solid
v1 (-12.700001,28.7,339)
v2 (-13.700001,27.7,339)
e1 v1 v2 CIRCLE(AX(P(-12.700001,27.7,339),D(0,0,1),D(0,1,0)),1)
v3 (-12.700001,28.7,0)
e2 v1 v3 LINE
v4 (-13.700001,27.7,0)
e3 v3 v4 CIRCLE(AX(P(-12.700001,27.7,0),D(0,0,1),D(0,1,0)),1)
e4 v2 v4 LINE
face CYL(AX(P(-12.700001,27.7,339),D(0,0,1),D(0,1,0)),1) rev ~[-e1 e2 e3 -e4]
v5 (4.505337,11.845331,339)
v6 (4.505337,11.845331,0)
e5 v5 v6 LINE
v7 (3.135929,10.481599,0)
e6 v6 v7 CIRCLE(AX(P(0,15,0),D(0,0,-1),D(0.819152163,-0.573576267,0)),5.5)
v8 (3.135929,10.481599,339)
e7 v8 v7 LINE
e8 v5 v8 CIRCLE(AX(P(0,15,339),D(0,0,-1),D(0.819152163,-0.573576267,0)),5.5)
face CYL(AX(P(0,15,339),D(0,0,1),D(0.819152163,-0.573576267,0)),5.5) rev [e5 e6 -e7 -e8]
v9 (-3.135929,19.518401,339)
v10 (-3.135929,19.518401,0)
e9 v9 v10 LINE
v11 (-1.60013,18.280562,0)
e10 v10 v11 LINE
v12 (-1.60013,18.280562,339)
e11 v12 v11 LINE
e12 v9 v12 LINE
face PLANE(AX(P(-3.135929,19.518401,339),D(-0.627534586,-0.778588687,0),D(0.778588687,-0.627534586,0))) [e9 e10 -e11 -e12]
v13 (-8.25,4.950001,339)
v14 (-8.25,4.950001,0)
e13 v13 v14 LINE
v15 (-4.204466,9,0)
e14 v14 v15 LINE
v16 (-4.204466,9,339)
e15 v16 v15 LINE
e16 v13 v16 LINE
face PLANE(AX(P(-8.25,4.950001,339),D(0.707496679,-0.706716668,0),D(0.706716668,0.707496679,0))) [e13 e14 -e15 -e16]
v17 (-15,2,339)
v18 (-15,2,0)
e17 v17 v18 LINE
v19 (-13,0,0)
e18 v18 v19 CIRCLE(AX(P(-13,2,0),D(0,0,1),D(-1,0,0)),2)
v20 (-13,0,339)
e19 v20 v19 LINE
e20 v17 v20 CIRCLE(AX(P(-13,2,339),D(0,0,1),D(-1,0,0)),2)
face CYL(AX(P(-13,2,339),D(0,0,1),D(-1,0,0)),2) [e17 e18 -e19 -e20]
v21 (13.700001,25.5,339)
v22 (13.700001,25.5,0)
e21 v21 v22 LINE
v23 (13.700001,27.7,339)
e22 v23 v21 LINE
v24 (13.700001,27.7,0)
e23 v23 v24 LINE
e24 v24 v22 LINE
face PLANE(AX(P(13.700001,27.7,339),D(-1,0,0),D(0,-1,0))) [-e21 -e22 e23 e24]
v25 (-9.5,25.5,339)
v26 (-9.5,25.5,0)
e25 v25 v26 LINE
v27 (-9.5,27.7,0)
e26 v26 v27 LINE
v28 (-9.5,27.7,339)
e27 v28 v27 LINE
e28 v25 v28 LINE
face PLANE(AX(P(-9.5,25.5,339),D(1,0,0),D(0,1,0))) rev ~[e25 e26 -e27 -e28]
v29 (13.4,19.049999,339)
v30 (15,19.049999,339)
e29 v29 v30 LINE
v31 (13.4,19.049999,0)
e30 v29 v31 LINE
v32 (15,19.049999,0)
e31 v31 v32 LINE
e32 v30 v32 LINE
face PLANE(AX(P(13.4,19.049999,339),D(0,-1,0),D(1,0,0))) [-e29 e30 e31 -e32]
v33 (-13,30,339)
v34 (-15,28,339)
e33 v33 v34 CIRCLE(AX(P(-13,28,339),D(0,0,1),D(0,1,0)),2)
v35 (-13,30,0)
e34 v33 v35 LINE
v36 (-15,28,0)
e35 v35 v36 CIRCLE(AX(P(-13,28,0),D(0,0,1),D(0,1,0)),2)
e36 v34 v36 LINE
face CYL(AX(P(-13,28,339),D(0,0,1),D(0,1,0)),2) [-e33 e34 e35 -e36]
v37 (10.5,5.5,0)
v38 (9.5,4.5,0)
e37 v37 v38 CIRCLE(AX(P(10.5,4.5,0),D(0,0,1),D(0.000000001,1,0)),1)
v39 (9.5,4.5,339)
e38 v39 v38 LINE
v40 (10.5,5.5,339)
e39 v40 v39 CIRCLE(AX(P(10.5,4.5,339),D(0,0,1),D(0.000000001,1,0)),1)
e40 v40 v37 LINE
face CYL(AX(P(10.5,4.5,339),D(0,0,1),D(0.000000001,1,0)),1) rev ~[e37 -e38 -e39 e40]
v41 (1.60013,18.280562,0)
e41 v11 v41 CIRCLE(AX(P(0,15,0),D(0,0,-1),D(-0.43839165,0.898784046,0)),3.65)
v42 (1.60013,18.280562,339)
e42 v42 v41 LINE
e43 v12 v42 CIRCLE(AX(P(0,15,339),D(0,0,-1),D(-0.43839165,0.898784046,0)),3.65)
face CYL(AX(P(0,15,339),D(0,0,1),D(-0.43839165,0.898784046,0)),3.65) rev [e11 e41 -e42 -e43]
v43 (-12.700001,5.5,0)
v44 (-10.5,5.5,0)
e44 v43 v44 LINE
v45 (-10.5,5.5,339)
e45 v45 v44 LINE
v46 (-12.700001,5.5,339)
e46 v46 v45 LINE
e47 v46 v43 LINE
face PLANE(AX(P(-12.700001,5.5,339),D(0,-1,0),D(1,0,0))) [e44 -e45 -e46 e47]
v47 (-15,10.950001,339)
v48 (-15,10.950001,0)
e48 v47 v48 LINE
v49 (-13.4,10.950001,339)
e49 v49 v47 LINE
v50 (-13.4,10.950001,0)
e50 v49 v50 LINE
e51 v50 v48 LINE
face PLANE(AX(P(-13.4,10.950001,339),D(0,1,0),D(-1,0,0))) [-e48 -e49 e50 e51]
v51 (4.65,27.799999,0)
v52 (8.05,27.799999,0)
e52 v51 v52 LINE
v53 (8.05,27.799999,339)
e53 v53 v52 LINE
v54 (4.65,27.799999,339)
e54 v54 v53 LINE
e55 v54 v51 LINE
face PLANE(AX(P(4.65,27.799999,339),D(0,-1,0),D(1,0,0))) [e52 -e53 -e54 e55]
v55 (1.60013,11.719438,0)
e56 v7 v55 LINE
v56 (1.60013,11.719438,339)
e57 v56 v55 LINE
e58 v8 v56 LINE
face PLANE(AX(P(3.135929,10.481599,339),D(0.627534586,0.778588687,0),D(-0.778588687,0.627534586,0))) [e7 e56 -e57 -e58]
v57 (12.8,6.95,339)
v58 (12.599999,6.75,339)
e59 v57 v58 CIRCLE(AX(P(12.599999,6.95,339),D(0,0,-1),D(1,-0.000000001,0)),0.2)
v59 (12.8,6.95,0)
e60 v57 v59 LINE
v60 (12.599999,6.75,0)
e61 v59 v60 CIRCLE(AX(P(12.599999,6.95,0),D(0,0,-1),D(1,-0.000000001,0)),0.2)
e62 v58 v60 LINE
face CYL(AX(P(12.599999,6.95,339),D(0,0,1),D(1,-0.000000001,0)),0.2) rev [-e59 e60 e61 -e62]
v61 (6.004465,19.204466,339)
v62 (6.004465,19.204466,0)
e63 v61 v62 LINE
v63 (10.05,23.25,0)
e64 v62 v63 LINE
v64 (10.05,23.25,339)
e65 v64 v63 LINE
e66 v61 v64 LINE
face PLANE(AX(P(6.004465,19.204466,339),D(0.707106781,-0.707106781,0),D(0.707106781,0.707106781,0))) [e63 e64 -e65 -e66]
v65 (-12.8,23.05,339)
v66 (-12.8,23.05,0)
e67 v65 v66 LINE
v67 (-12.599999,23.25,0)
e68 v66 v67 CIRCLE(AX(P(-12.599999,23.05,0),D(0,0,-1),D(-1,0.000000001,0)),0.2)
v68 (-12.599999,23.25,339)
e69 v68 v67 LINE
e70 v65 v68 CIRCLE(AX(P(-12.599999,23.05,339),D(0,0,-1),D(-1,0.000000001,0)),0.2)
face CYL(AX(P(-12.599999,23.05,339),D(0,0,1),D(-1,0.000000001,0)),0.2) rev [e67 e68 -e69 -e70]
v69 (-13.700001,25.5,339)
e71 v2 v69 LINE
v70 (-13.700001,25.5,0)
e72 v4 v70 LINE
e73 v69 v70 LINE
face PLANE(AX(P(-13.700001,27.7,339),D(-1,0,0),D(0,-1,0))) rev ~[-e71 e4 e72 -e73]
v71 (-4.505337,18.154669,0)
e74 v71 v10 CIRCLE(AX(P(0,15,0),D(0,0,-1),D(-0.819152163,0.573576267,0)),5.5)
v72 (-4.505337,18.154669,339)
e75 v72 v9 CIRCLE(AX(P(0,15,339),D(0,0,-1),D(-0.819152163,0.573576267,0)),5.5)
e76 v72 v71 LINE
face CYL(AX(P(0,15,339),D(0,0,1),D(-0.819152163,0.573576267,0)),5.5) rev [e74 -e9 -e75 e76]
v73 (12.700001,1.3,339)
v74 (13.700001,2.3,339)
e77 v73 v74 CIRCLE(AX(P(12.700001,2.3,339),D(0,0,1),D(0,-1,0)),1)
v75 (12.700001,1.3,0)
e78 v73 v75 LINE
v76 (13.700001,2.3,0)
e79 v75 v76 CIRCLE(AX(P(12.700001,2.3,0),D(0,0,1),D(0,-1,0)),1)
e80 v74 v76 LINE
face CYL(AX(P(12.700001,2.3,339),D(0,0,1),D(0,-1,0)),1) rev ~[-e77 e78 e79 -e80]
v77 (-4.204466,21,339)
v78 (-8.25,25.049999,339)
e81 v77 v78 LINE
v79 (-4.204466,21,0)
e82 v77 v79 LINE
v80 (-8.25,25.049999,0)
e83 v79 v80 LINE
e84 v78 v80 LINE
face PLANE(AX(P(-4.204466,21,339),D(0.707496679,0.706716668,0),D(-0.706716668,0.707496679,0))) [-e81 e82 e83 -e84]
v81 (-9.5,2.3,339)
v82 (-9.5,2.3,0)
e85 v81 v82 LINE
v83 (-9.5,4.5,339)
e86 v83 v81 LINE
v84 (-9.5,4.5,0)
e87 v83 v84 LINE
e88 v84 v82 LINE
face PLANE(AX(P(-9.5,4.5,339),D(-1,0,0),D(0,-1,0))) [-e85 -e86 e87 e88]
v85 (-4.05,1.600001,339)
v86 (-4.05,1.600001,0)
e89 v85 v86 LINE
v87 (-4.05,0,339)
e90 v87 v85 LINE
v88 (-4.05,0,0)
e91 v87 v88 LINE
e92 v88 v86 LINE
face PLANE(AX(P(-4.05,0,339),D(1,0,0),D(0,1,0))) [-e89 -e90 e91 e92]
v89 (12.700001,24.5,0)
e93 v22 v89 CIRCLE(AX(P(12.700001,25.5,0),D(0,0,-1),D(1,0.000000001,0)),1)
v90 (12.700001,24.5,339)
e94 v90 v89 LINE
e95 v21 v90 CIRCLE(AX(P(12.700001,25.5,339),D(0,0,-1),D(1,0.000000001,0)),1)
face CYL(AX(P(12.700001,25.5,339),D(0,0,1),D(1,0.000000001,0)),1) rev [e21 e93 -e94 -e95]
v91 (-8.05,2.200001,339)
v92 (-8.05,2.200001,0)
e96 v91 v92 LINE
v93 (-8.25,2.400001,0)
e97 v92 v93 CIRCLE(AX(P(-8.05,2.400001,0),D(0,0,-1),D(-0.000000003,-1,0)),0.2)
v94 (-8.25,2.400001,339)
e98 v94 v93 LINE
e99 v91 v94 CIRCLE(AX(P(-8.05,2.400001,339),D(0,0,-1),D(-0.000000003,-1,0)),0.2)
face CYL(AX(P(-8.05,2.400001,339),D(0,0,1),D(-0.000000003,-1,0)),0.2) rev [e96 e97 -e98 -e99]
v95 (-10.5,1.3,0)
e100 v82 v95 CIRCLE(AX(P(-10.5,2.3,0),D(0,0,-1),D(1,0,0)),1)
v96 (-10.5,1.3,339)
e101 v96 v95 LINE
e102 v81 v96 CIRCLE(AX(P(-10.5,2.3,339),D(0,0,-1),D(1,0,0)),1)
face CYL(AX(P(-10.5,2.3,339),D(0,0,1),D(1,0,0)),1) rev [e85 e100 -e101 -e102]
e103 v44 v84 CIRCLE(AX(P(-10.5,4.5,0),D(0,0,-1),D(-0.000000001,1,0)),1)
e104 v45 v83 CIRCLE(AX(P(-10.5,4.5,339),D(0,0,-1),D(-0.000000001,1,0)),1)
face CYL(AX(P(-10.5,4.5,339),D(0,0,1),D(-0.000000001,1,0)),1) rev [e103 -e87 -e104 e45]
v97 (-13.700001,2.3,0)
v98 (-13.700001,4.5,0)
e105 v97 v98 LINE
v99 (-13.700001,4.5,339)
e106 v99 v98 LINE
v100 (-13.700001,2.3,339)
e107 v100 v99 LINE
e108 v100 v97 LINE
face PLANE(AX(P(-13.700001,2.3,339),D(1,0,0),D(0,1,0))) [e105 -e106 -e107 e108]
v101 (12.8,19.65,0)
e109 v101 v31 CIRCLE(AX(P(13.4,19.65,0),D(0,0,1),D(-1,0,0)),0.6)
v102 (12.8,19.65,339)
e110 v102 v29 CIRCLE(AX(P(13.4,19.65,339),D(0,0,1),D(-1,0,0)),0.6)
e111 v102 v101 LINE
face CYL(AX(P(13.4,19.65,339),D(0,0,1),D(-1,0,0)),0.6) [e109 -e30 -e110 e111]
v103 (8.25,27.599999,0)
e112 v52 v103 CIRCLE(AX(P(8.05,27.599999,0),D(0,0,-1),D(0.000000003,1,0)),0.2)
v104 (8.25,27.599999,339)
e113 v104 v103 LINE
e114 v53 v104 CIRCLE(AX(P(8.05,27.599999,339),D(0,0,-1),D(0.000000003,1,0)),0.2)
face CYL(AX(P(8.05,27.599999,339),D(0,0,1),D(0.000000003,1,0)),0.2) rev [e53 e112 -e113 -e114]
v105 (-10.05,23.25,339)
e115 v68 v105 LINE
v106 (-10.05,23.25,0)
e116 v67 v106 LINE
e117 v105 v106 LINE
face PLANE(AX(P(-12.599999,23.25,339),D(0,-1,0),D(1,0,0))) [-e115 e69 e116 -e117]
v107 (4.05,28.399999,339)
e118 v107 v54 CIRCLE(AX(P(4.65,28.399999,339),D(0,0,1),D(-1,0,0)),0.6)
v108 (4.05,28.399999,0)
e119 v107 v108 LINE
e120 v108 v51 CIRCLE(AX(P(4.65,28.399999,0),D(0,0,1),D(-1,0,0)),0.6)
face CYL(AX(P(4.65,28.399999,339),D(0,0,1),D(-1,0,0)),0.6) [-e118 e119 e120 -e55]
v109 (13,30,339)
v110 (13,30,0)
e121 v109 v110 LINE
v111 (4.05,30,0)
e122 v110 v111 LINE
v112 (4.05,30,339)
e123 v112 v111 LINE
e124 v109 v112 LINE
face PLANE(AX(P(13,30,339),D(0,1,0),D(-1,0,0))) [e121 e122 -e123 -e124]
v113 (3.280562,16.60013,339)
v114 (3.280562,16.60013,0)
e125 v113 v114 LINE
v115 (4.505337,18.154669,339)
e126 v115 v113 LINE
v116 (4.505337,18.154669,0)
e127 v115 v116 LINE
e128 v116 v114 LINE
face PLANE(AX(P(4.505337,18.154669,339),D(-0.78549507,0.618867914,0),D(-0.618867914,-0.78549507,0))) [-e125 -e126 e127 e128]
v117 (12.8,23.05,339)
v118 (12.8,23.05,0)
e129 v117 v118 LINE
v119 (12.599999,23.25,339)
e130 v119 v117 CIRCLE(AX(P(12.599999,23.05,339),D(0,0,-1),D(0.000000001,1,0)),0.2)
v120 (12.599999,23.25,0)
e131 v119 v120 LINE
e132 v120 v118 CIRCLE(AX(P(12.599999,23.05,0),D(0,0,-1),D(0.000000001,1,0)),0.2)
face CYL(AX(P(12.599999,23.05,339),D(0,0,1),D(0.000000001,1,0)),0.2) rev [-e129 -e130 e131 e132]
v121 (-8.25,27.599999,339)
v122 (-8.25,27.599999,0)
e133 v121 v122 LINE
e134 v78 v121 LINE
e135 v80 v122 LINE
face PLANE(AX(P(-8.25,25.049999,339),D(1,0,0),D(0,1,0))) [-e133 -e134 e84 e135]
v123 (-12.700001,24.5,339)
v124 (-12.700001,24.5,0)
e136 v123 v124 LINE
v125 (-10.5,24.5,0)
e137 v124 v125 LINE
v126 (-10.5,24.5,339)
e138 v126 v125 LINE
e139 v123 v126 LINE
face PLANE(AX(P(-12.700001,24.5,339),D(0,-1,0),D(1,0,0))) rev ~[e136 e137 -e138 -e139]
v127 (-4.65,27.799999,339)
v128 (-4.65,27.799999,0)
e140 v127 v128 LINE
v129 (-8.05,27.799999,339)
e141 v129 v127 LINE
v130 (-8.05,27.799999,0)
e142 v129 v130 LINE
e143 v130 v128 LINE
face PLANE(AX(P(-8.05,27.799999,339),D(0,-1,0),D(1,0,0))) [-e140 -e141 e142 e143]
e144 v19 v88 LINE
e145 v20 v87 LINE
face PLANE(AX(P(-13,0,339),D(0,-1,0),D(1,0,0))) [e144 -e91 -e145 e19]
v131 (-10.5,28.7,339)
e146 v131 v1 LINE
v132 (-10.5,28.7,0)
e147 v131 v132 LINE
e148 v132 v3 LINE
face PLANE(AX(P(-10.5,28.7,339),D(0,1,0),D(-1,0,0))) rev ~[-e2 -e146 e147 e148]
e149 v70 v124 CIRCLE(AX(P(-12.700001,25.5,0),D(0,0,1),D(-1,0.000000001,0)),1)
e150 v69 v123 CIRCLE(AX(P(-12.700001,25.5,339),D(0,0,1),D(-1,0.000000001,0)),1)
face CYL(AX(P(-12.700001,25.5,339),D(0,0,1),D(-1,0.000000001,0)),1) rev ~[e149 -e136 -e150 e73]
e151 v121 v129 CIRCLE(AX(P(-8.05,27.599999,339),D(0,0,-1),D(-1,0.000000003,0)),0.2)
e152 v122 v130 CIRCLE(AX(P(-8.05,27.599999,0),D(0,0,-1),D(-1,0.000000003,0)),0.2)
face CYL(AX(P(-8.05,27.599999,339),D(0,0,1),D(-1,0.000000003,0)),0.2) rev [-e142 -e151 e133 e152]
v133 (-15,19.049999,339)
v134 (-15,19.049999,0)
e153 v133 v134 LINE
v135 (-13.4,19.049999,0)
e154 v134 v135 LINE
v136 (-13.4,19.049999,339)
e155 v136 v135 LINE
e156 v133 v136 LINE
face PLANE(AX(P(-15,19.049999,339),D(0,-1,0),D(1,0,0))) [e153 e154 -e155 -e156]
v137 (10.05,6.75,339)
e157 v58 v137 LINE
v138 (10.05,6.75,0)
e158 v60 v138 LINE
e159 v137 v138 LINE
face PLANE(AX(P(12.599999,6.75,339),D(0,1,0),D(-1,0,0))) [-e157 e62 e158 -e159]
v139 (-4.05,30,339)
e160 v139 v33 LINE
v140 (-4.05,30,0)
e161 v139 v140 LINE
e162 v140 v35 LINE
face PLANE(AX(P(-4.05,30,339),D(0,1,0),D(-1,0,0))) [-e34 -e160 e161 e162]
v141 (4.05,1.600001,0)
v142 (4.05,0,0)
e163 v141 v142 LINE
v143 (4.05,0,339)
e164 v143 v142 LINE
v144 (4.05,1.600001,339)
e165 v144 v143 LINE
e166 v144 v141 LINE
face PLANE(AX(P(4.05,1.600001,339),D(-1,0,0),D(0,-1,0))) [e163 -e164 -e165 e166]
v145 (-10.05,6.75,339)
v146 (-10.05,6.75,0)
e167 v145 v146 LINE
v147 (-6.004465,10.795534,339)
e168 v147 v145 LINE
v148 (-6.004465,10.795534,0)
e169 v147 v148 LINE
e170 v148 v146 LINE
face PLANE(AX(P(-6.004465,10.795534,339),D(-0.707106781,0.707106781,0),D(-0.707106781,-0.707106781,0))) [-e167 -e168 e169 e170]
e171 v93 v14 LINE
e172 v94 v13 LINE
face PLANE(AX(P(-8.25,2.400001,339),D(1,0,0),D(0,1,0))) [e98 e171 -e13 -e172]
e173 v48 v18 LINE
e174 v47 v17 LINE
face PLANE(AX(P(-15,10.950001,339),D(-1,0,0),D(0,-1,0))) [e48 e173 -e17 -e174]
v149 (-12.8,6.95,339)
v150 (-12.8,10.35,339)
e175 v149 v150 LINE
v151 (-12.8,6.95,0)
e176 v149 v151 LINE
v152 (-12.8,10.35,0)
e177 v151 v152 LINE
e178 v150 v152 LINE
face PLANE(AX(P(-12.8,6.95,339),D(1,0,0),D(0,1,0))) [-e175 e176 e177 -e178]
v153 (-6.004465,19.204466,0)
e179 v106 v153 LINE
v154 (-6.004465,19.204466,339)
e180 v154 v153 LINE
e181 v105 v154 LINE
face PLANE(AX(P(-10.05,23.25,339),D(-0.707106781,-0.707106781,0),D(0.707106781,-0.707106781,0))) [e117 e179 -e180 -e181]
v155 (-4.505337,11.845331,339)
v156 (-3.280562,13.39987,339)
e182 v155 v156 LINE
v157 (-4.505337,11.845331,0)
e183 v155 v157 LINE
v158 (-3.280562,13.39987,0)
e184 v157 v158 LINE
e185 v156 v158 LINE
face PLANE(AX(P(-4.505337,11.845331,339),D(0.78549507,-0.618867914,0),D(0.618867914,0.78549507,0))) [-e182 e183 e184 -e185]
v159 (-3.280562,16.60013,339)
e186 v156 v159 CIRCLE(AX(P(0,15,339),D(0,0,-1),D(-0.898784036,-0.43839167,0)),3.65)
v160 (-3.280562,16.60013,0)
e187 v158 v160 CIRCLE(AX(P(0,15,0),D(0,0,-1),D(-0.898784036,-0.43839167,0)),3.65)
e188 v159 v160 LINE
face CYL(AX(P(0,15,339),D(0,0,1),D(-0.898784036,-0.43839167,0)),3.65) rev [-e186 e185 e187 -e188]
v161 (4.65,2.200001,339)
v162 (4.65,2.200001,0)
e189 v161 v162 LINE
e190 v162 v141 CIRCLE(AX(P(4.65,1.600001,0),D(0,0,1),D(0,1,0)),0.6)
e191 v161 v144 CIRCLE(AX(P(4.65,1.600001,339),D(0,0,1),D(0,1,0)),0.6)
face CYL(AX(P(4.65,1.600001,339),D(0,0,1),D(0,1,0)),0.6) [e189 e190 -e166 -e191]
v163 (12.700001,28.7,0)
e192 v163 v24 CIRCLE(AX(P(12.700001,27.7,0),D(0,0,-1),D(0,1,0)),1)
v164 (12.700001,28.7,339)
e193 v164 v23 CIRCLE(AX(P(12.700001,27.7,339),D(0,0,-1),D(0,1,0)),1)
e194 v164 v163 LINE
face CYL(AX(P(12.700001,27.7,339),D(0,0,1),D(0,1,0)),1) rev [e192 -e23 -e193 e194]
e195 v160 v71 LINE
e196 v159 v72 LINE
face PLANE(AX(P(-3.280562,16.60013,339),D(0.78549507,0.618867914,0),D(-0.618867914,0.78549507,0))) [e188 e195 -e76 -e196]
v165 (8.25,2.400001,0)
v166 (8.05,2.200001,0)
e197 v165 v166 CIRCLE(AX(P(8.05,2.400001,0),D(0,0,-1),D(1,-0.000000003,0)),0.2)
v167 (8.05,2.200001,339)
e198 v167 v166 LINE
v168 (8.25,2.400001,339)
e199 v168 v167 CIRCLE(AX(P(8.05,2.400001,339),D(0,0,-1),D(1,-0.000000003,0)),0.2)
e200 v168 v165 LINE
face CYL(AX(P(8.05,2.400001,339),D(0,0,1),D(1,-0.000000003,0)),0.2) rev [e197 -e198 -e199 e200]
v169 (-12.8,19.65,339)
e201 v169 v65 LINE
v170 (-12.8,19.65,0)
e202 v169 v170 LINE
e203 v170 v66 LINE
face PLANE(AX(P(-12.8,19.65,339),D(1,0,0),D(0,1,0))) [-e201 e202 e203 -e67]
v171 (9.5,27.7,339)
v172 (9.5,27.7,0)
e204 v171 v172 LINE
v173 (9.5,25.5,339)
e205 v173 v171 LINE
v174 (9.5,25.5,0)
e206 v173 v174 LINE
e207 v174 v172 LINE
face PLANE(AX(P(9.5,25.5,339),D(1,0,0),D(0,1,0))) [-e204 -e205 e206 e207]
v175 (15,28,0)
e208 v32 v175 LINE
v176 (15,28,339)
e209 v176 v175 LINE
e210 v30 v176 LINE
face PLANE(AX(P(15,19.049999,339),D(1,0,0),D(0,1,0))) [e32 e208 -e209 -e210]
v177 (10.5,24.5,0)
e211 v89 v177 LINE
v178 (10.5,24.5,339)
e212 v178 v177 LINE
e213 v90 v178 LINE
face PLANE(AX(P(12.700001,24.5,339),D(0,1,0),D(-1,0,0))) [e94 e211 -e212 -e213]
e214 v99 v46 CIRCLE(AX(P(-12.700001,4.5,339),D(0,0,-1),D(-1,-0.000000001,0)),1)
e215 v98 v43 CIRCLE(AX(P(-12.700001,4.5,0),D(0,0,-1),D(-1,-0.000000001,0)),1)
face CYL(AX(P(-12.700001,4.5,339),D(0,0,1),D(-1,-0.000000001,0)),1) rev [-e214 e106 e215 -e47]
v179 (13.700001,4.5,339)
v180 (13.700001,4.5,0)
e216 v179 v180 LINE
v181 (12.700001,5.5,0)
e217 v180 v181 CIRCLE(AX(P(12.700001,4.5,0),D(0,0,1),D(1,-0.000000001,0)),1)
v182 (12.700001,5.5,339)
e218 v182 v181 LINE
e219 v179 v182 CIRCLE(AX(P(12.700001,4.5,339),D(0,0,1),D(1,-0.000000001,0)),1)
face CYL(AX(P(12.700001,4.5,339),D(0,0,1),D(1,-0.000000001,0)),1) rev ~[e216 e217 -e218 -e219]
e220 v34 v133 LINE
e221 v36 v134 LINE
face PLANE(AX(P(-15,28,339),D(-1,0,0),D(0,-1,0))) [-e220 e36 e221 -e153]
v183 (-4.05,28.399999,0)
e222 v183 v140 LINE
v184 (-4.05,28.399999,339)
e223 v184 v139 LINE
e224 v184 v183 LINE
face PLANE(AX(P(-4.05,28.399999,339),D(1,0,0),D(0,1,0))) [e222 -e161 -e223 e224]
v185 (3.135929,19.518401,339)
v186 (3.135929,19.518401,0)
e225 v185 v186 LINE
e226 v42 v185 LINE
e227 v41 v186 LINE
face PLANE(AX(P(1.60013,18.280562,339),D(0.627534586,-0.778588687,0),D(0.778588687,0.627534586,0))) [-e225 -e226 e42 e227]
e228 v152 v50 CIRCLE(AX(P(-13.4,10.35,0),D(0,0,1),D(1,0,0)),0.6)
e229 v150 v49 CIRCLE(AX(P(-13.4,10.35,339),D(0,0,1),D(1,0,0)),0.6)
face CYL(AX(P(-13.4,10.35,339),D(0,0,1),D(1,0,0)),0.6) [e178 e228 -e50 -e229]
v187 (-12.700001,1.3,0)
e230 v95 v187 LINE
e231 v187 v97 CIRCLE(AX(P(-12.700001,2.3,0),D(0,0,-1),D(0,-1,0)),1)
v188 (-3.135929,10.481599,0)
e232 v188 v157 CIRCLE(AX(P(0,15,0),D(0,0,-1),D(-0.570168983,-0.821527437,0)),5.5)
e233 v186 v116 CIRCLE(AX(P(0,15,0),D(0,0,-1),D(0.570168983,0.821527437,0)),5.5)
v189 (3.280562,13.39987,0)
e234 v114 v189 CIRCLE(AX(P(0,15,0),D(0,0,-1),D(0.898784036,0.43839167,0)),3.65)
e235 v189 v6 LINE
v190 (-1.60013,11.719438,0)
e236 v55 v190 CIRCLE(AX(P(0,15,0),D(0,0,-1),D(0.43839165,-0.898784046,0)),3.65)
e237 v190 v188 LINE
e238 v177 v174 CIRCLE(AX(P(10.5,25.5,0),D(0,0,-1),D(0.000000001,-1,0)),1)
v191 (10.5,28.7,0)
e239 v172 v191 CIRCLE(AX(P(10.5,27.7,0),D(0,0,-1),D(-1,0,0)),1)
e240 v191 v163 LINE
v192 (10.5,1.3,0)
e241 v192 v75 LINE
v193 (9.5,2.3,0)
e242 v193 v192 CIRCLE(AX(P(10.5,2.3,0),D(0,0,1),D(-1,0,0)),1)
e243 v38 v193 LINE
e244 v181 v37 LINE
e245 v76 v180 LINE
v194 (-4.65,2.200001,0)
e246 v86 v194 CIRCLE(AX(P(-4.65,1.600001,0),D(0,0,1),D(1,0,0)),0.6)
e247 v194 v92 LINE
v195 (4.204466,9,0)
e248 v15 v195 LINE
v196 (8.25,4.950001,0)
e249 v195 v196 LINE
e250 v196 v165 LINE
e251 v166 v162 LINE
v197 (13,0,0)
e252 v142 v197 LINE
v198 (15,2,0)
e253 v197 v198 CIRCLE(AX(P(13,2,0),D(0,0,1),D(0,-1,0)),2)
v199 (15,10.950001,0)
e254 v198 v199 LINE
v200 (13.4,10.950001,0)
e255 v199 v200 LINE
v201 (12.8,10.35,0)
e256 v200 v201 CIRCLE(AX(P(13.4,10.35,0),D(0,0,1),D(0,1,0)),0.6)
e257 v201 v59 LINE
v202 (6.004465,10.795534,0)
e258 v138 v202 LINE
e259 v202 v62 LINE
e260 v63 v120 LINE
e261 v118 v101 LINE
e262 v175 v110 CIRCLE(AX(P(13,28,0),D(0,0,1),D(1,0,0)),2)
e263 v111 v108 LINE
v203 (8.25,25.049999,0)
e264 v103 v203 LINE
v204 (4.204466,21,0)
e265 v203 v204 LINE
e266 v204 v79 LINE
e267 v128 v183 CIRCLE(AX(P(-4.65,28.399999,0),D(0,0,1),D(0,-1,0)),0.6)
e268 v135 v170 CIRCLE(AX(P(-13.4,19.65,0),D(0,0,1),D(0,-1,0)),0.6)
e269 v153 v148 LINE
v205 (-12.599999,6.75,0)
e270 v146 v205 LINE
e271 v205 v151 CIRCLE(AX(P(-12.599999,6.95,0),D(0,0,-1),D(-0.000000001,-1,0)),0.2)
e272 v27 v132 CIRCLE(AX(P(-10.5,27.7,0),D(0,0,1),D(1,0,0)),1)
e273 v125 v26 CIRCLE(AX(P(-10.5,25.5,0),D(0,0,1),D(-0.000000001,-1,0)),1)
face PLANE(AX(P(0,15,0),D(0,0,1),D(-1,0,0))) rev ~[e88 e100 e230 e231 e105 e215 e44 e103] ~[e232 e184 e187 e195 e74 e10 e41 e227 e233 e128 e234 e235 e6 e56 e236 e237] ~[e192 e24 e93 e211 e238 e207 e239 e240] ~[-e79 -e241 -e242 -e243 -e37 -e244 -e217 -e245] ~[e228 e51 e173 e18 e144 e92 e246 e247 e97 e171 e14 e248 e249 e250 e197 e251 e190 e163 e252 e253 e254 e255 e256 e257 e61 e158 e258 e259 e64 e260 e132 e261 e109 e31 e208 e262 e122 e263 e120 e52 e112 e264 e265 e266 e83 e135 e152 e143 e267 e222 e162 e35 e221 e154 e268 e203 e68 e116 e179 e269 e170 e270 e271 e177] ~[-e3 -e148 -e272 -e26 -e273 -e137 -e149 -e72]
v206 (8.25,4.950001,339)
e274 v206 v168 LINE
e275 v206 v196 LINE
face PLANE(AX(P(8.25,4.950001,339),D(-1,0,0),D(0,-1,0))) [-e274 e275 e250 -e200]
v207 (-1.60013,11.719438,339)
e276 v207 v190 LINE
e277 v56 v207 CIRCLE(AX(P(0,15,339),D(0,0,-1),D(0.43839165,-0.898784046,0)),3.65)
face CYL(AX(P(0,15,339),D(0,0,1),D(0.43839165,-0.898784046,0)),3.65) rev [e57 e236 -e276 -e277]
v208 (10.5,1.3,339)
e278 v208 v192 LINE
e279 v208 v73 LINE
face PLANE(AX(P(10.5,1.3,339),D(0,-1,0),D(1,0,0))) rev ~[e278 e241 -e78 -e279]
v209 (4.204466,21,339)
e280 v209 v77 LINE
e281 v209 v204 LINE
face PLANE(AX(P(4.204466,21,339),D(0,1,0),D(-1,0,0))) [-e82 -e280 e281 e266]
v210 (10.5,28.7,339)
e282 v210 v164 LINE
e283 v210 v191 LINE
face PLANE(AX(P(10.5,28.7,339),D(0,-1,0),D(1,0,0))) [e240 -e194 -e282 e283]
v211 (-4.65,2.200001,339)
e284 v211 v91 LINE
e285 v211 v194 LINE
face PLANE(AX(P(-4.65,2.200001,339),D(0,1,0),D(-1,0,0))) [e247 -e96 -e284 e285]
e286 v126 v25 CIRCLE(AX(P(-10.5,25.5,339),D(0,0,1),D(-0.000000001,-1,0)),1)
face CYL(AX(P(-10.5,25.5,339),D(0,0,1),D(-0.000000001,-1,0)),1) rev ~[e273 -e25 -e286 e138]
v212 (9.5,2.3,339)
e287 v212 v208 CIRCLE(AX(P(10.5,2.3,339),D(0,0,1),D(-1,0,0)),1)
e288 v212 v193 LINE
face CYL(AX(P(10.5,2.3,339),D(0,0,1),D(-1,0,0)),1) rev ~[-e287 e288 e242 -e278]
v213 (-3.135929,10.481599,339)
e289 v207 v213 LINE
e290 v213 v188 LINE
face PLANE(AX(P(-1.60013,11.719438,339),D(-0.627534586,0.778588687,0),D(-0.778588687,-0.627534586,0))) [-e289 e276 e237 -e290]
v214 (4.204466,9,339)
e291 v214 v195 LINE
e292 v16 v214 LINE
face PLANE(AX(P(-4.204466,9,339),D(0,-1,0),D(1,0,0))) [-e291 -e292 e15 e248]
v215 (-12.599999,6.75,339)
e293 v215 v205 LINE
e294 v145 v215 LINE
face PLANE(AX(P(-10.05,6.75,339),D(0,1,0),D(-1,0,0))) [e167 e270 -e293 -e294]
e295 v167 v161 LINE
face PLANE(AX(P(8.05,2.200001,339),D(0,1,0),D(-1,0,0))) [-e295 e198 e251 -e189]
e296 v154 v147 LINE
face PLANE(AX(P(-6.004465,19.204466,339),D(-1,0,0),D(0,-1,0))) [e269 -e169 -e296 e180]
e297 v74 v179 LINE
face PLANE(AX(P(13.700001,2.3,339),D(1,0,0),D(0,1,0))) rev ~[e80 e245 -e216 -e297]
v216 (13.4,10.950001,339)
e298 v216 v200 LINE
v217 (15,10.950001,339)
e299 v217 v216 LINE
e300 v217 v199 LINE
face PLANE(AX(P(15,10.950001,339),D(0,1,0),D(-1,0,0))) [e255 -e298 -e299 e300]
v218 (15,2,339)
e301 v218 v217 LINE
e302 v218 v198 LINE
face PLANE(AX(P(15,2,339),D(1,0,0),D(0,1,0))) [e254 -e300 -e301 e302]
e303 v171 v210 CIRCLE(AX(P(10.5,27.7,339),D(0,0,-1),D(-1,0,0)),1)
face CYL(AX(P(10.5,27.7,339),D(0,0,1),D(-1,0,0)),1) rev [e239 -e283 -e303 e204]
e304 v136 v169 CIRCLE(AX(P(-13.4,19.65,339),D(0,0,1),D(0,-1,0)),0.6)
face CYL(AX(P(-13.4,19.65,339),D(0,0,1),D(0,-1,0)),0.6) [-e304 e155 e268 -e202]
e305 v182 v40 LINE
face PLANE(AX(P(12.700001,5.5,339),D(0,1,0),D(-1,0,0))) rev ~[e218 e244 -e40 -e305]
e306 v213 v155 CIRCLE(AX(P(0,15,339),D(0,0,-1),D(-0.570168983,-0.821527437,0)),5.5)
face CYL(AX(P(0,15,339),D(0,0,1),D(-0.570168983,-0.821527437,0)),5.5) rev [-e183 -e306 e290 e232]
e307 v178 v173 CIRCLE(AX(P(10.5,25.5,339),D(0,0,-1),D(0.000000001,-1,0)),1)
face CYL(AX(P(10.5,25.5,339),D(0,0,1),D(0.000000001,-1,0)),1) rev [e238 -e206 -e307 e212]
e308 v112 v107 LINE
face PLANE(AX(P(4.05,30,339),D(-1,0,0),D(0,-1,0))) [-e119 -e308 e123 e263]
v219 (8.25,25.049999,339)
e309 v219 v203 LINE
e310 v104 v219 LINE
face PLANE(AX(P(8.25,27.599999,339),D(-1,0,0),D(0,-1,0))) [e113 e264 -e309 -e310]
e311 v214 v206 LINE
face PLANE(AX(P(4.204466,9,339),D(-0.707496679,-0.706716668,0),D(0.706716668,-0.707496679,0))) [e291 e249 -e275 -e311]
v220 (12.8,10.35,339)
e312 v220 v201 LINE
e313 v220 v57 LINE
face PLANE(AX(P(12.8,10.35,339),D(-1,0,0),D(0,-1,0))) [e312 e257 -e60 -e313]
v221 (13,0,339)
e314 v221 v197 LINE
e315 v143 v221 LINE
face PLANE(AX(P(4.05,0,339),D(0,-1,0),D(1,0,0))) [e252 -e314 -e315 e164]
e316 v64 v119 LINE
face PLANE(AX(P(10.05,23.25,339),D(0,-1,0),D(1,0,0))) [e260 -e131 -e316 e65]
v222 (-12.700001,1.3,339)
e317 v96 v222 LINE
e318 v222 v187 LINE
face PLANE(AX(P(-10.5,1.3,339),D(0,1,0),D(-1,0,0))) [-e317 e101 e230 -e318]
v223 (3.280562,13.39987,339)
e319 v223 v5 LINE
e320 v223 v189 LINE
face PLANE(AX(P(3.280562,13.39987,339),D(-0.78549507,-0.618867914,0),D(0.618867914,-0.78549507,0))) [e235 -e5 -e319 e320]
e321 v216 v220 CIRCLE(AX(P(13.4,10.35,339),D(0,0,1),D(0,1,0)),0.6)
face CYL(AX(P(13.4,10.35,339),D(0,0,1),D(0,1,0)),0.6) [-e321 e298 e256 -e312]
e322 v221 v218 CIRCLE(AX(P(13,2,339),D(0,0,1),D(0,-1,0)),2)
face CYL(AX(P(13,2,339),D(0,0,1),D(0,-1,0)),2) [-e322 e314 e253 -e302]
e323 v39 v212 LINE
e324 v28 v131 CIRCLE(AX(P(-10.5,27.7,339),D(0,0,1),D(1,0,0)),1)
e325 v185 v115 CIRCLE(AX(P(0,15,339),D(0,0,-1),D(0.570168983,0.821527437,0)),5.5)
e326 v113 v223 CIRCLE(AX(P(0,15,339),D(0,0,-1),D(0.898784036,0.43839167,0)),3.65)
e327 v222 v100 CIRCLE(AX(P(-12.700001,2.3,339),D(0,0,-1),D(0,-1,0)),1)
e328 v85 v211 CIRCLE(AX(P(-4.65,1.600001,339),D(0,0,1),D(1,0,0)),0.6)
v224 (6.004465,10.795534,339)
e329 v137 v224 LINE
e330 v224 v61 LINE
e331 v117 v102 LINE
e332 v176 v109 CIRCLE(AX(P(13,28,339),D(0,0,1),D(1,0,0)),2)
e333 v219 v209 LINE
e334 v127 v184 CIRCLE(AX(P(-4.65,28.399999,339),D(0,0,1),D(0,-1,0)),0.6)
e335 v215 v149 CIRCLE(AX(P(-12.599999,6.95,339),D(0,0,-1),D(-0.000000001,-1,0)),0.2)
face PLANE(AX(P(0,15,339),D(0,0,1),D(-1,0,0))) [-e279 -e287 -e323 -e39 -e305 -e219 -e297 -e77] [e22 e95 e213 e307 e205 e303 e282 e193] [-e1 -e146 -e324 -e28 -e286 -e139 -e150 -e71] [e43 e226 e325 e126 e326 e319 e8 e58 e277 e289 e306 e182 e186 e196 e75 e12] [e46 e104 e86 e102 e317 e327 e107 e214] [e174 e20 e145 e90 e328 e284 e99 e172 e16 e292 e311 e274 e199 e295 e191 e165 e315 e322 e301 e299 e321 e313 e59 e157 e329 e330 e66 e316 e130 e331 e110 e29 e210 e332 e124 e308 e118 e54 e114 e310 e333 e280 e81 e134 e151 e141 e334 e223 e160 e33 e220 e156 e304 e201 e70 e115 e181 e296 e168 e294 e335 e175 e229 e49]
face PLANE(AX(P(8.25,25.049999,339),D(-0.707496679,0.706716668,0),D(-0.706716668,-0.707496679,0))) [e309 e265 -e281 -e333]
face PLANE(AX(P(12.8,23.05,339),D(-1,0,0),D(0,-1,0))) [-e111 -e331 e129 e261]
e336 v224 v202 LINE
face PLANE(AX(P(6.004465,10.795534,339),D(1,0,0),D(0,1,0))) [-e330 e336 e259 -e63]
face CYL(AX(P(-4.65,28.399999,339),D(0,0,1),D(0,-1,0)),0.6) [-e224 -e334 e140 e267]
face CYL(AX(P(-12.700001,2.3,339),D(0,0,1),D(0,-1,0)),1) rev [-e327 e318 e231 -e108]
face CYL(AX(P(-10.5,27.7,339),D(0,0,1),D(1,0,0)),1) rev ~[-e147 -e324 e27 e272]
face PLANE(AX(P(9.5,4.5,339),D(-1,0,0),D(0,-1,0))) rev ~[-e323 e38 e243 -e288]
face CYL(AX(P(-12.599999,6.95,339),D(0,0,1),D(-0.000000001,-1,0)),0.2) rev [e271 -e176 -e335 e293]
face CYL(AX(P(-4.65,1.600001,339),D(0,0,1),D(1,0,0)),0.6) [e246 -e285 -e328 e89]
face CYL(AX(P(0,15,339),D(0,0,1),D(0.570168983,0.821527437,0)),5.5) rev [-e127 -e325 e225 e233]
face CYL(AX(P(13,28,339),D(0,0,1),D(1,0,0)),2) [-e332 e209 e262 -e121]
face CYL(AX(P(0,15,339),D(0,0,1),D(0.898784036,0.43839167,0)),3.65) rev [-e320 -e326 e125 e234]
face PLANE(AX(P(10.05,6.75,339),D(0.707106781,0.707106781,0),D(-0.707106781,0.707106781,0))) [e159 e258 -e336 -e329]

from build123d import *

# Parameters (mm, degrees)
BOSCH_REXROTH_DIMENSION_30_8MM_SLOTS_3_DEPTH = 339


with BuildPart() as part:
    # Sketch1 → Bosch rexroth dimension 30 (8mm slots) 30X30(7) (new body)
    with BuildSketch(Plane(origin=(0, 15, 339), x_dir=(1, 0, 0), z_dir=(0, 0, -1))):
        with BuildLine():
            Line((6.00446543, 4.204465866), (6.00446543, -4.204465866))
            Line((6.00446543, -4.204465866), (10.049999564, -8.25))
            Line((10.049999564, -8.25), (12.59999928, -8.25))
            ThreePointArc((12.59999928, -8.25), (12.741420837, -8.191421273), (12.799999564, -8.049999716))
            Line((12.799999564, -8.049999716), (12.799999564, -4.649999613))
            ThreePointArc((12.799999564, -4.649999613), (12.975735606, -4.225735278), (13.39999994, -4.049999237))
            Line((13.39999994, -4.049999237), (15, -4.049999237))
            Line((15, -4.049999237), (15, -13.000000346))
            ThreePointArc((15, -13.000000346), (14.414213664, -14.414213664), (13.000000346, -15))
            Line((13.000000346, -15), (4.05, -15))
            Line((4.05, -15), (4.05, -13.399999434))
            ThreePointArc((4.05, -13.399999434), (4.225735989, -12.975735226), (4.650000197, -12.799999237))
            Line((4.650000197, -12.799999237), (8.049999924, -12.799999237))
            ThreePointArc((8.049999924, -12.799999237), (8.191421565, -12.741420475), (8.250000327, -12.599998834))
            Line((8.250000327, -12.599998834), (8.250000327, -10.049999237))
            Line((8.250000327, -10.049999237), (4.204466193, -6))
            Line((4.204466193, -6), (-4.204466193, -6))
            Line((-4.204466193, -6), (-8.250000327, -10.049999237))
            Line((-8.250000327, -10.049999237), (-8.250000327, -12.599998834))
            ThreePointArc((-8.250000327, -12.599998834), (-8.191421565, -12.741420475), (-8.049999924, -12.799999237))
            Line((-8.049999924, -12.799999237), (-4.650000197, -12.799999237))
            ThreePointArc((-4.650000197, -12.799999237), (-4.225735989, -12.975735226), (-4.05, -13.399999434))
            Line((-4.05, -13.399999434), (-4.05, -15))
            Line((-4.05, -15), (-13.000000346, -15))
            ThreePointArc((-13.000000346, -15), (-14.414213664, -14.414213664), (-15, -13.000000346))
            Line((-15, -13.000000346), (-15, -4.049999237))
            Line((-15, -4.049999237), (-13.39999994, -4.049999237))
            ThreePointArc((-13.39999994, -4.049999237), (-12.975735606, -4.225735278), (-12.799999564, -4.649999613))
            Line((-12.799999564, -4.649999613), (-12.799999564, -8.049999716))
            ThreePointArc((-12.799999564, -8.049999716), (-12.741420837, -8.191421273), (-12.59999928, -8.25))
            Line((-12.59999928, -8.25), (-10.049999564, -8.25))
            Line((-10.049999564, -8.25), (-6.00446543, -4.204465866))
            Line((-6.00446543, -4.204465866), (-6.00446543, 4.204465866))
            Line((-6.00446543, 4.204465866), (-10.049999564, 8.25))
            Line((-10.049999564, 8.25), (-12.59999928, 8.25))
            ThreePointArc((-12.59999928, 8.25), (-12.741420837, 8.191421273), (-12.799999564, 8.049999716))
            Line((-12.799999564, 8.049999716), (-12.799999564, 4.649999613))
            ThreePointArc((-12.799999564, 4.649999613), (-12.975735606, 4.225735278), (-13.39999994, 4.049999237))
            Line((-13.39999994, 4.049999237), (-15, 4.049999237))
            Line((-15, 4.049999237), (-15, 13.000000346))
            ThreePointArc((-15, 13.000000346), (-14.414213664, 14.414213664), (-13.000000346, 15))
            Line((-13.000000346, 15), (-4.05, 15))
            Line((-4.05, 15), (-4.05, 13.399999434))
            ThreePointArc((-4.05, 13.399999434), (-4.225735989, 12.975735226), (-4.650000197, 12.799999237))
            Line((-4.650000197, 12.799999237), (-8.049999924, 12.799999237))
            ThreePointArc((-8.049999924, 12.799999237), (-8.191421565, 12.741420475), (-8.250000327, 12.599998834))
            Line((-8.250000327, 12.599998834), (-8.250000327, 10.049999237))
            Line((-8.250000327, 10.049999237), (-4.204466193, 6))
            Line((-4.204466193, 6), (4.204466193, 6))
            Line((4.204466193, 6), (8.250000327, 10.049999237))
            Line((8.250000327, 10.049999237), (8.250000327, 12.599998834))
            ThreePointArc((8.250000327, 12.599998834), (8.191421565, 12.741420475), (8.049999924, 12.799999237))
            Line((8.049999924, 12.799999237), (4.650000197, 12.799999237))
            ThreePointArc((4.650000197, 12.799999237), (4.225735989, 12.975735226), (4.05, 13.399999434))
            Line((4.05, 13.399999434), (4.05, 15))
            Line((4.05, 15), (13.000000346, 15))
            ThreePointArc((13.000000346, 15), (14.414213664, 14.414213664), (15, 13.000000346))
            Line((15, 13.000000346), (15, 4.049999237))
            Line((15, 4.049999237), (13.39999994, 4.049999237))
            ThreePointArc((13.39999994, 4.049999237), (12.975735606, 4.225735278), (12.799999564, 4.649999613))
            Line((12.799999564, 4.649999613), (12.799999564, 8.049999716))
            ThreePointArc((12.799999564, 8.049999716), (12.741420837, 8.191421273), (12.59999928, 8.25))
            Line((12.59999928, 8.25), (10.049999564, 8.25))
            Line((10.049999564, 8.25), (6.00446543, 4.204465866))
        make_face()
        with BuildLine():
            Line((13.70000109, 12.700000408), (13.70000109, 10.499999626))
            ThreePointArc((13.70000109, 10.499999626), (13.407107874, 9.792892851), (12.7000011, 9.499999635))
            Line((12.7000011, 9.499999635), (10.500000318, 9.499999635))
            ThreePointArc((10.500000318, 9.499999635), (9.792893543, 9.792892851), (9.500000327, 10.499999626))
            Line((9.500000327, 10.499999626), (9.500000327, 12.700000408))
            ThreePointArc((9.500000327, 12.700000408), (9.792893543, 13.407107182), (10.500000318, 13.700000398))
            Line((10.500000318, 13.700000398), (12.7000011, 13.700000398))
            ThreePointArc((12.7000011, 13.700000398), (13.407107874, 13.407107182), (13.70000109, 12.700000408))
        make_face(mode=Mode.SUBTRACT)
        with BuildLine():
            Line((3.135929412, 4.518400903), (1.600129524, 3.280561767))
            ThreePointArc((1.600129524, 3.280561767), (0, 3.65), (-1.600129524, 3.280561767))
            Line((-1.600129524, 3.280561767), (-3.135929412, 4.518400903))
            ThreePointArc((-3.135929412, 4.518400903), (-3.881002259, 3.897155561), (-4.505336892, 3.154669473))
            Line((-4.505336892, 3.154669473), (-3.280561732, 1.600129597))
            ThreePointArc((-3.280561732, 1.600129597), (-3.65, 0), (-3.280561732, -1.600129597))
            Line((-3.280561732, -1.600129597), (-4.505336892, -3.154669473))
            ThreePointArc((-4.505336892, -3.154669473), (-3.881002259, -3.897155561), (-3.135929412, -4.518400903))
            Line((-3.135929412, -4.518400903), (-1.600129524, -3.280561767))
            ThreePointArc((-1.600129524, -3.280561767), (0, -3.65), (1.600129524, -3.280561767))
            Line((1.600129524, -3.280561767), (3.135929412, -4.518400903))
            ThreePointArc((3.135929412, -4.518400903), (3.881002259, -3.897155561), (4.505336892, -3.154669473))
            Line((4.505336892, -3.154669473), (3.280561732, -1.600129597))
            ThreePointArc((3.280561732, -1.600129597), (3.65, 0), (3.280561732, 1.600129597))
            Line((3.280561732, 1.600129597), (4.505336892, 3.154669473))
            ThreePointArc((4.505336892, 3.154669473), (3.881002259, 3.897155561), (3.135929412, 4.518400903))
        make_face(mode=Mode.SUBTRACT)
        with BuildLine():
            Line((-13.70000109, -12.700000408), (-13.70000109, -10.499999626))
            ThreePointArc((-13.70000109, -10.499999626), (-13.407107874, -9.792892851), (-12.7000011, -9.499999635))
            Line((-12.7000011, -9.499999635), (-10.500000318, -9.499999635))
            ThreePointArc((-10.500000318, -9.499999635), (-9.792893543, -9.792892851), (-9.500000327, -10.499999626))
            Line((-9.500000327, -10.499999626), (-9.500000327, -12.700000408))
            ThreePointArc((-9.500000327, -12.700000408), (-9.792893543, -13.407107182), (-10.500000318, -13.700000398))
            Line((-10.500000318, -13.700000398), (-12.7000011, -13.700000398))
            ThreePointArc((-12.7000011, -13.700000398), (-13.407107874, -13.407107182), (-13.70000109, -12.700000408))
        make_face(mode=Mode.SUBTRACT)
        with BuildLine():
            Line((10.500000318, -13.700000398), (12.7000011, -13.700000398))
            ThreePointArc((12.7000011, -13.700000398), (13.407107874, -13.407107182), (13.70000109, -12.700000408))
            Line((13.70000109, -12.700000408), (13.70000109, -10.499999626))
            ThreePointArc((13.70000109, -10.499999626), (13.407107874, -9.792892851), (12.7000011, -9.499999635))
            Line((12.7000011, -9.499999635), (10.500000318, -9.499999635))
            ThreePointArc((10.500000318, -9.499999635), (9.792893543, -9.792892851), (9.500000327, -10.499999626))
            Line((9.500000327, -10.499999626), (9.500000327, -12.700000408))
            ThreePointArc((9.500000327, -12.700000408), (9.792893543, -13.407107182), (10.500000318, -13.700000398))
        make_face(mode=Mode.SUBTRACT)
        with BuildLine():
            Line((-10.500000318, 13.700000398), (-12.7000011, 13.700000398))
            ThreePointArc((-12.7000011, 13.700000398), (-13.407107874, 13.407107182), (-13.70000109, 12.700000408))
            Line((-13.70000109, 12.700000408), (-13.70000109, 10.499999626))
            ThreePointArc((-13.70000109, 10.499999626), (-13.407107874, 9.792892851), (-12.7000011, 9.499999635))
            Line((-12.7000011, 9.499999635), (-10.500000318, 9.499999635))
            ThreePointArc((-10.500000318, 9.499999635), (-9.792893543, 9.792892851), (-9.500000327, 10.499999626))
            Line((-9.500000327, 10.499999626), (-9.500000327, 12.700000408))
            ThreePointArc((-9.500000327, 12.700000408), (-9.792893543, 13.407107182), (-10.500000318, 13.700000398))
        make_face(mode=Mode.SUBTRACT)
    extrude(amount=BOSCH_REXROTH_DIMENSION_30_8MM_SLOTS_3_DEPTH)


solid = part.part
